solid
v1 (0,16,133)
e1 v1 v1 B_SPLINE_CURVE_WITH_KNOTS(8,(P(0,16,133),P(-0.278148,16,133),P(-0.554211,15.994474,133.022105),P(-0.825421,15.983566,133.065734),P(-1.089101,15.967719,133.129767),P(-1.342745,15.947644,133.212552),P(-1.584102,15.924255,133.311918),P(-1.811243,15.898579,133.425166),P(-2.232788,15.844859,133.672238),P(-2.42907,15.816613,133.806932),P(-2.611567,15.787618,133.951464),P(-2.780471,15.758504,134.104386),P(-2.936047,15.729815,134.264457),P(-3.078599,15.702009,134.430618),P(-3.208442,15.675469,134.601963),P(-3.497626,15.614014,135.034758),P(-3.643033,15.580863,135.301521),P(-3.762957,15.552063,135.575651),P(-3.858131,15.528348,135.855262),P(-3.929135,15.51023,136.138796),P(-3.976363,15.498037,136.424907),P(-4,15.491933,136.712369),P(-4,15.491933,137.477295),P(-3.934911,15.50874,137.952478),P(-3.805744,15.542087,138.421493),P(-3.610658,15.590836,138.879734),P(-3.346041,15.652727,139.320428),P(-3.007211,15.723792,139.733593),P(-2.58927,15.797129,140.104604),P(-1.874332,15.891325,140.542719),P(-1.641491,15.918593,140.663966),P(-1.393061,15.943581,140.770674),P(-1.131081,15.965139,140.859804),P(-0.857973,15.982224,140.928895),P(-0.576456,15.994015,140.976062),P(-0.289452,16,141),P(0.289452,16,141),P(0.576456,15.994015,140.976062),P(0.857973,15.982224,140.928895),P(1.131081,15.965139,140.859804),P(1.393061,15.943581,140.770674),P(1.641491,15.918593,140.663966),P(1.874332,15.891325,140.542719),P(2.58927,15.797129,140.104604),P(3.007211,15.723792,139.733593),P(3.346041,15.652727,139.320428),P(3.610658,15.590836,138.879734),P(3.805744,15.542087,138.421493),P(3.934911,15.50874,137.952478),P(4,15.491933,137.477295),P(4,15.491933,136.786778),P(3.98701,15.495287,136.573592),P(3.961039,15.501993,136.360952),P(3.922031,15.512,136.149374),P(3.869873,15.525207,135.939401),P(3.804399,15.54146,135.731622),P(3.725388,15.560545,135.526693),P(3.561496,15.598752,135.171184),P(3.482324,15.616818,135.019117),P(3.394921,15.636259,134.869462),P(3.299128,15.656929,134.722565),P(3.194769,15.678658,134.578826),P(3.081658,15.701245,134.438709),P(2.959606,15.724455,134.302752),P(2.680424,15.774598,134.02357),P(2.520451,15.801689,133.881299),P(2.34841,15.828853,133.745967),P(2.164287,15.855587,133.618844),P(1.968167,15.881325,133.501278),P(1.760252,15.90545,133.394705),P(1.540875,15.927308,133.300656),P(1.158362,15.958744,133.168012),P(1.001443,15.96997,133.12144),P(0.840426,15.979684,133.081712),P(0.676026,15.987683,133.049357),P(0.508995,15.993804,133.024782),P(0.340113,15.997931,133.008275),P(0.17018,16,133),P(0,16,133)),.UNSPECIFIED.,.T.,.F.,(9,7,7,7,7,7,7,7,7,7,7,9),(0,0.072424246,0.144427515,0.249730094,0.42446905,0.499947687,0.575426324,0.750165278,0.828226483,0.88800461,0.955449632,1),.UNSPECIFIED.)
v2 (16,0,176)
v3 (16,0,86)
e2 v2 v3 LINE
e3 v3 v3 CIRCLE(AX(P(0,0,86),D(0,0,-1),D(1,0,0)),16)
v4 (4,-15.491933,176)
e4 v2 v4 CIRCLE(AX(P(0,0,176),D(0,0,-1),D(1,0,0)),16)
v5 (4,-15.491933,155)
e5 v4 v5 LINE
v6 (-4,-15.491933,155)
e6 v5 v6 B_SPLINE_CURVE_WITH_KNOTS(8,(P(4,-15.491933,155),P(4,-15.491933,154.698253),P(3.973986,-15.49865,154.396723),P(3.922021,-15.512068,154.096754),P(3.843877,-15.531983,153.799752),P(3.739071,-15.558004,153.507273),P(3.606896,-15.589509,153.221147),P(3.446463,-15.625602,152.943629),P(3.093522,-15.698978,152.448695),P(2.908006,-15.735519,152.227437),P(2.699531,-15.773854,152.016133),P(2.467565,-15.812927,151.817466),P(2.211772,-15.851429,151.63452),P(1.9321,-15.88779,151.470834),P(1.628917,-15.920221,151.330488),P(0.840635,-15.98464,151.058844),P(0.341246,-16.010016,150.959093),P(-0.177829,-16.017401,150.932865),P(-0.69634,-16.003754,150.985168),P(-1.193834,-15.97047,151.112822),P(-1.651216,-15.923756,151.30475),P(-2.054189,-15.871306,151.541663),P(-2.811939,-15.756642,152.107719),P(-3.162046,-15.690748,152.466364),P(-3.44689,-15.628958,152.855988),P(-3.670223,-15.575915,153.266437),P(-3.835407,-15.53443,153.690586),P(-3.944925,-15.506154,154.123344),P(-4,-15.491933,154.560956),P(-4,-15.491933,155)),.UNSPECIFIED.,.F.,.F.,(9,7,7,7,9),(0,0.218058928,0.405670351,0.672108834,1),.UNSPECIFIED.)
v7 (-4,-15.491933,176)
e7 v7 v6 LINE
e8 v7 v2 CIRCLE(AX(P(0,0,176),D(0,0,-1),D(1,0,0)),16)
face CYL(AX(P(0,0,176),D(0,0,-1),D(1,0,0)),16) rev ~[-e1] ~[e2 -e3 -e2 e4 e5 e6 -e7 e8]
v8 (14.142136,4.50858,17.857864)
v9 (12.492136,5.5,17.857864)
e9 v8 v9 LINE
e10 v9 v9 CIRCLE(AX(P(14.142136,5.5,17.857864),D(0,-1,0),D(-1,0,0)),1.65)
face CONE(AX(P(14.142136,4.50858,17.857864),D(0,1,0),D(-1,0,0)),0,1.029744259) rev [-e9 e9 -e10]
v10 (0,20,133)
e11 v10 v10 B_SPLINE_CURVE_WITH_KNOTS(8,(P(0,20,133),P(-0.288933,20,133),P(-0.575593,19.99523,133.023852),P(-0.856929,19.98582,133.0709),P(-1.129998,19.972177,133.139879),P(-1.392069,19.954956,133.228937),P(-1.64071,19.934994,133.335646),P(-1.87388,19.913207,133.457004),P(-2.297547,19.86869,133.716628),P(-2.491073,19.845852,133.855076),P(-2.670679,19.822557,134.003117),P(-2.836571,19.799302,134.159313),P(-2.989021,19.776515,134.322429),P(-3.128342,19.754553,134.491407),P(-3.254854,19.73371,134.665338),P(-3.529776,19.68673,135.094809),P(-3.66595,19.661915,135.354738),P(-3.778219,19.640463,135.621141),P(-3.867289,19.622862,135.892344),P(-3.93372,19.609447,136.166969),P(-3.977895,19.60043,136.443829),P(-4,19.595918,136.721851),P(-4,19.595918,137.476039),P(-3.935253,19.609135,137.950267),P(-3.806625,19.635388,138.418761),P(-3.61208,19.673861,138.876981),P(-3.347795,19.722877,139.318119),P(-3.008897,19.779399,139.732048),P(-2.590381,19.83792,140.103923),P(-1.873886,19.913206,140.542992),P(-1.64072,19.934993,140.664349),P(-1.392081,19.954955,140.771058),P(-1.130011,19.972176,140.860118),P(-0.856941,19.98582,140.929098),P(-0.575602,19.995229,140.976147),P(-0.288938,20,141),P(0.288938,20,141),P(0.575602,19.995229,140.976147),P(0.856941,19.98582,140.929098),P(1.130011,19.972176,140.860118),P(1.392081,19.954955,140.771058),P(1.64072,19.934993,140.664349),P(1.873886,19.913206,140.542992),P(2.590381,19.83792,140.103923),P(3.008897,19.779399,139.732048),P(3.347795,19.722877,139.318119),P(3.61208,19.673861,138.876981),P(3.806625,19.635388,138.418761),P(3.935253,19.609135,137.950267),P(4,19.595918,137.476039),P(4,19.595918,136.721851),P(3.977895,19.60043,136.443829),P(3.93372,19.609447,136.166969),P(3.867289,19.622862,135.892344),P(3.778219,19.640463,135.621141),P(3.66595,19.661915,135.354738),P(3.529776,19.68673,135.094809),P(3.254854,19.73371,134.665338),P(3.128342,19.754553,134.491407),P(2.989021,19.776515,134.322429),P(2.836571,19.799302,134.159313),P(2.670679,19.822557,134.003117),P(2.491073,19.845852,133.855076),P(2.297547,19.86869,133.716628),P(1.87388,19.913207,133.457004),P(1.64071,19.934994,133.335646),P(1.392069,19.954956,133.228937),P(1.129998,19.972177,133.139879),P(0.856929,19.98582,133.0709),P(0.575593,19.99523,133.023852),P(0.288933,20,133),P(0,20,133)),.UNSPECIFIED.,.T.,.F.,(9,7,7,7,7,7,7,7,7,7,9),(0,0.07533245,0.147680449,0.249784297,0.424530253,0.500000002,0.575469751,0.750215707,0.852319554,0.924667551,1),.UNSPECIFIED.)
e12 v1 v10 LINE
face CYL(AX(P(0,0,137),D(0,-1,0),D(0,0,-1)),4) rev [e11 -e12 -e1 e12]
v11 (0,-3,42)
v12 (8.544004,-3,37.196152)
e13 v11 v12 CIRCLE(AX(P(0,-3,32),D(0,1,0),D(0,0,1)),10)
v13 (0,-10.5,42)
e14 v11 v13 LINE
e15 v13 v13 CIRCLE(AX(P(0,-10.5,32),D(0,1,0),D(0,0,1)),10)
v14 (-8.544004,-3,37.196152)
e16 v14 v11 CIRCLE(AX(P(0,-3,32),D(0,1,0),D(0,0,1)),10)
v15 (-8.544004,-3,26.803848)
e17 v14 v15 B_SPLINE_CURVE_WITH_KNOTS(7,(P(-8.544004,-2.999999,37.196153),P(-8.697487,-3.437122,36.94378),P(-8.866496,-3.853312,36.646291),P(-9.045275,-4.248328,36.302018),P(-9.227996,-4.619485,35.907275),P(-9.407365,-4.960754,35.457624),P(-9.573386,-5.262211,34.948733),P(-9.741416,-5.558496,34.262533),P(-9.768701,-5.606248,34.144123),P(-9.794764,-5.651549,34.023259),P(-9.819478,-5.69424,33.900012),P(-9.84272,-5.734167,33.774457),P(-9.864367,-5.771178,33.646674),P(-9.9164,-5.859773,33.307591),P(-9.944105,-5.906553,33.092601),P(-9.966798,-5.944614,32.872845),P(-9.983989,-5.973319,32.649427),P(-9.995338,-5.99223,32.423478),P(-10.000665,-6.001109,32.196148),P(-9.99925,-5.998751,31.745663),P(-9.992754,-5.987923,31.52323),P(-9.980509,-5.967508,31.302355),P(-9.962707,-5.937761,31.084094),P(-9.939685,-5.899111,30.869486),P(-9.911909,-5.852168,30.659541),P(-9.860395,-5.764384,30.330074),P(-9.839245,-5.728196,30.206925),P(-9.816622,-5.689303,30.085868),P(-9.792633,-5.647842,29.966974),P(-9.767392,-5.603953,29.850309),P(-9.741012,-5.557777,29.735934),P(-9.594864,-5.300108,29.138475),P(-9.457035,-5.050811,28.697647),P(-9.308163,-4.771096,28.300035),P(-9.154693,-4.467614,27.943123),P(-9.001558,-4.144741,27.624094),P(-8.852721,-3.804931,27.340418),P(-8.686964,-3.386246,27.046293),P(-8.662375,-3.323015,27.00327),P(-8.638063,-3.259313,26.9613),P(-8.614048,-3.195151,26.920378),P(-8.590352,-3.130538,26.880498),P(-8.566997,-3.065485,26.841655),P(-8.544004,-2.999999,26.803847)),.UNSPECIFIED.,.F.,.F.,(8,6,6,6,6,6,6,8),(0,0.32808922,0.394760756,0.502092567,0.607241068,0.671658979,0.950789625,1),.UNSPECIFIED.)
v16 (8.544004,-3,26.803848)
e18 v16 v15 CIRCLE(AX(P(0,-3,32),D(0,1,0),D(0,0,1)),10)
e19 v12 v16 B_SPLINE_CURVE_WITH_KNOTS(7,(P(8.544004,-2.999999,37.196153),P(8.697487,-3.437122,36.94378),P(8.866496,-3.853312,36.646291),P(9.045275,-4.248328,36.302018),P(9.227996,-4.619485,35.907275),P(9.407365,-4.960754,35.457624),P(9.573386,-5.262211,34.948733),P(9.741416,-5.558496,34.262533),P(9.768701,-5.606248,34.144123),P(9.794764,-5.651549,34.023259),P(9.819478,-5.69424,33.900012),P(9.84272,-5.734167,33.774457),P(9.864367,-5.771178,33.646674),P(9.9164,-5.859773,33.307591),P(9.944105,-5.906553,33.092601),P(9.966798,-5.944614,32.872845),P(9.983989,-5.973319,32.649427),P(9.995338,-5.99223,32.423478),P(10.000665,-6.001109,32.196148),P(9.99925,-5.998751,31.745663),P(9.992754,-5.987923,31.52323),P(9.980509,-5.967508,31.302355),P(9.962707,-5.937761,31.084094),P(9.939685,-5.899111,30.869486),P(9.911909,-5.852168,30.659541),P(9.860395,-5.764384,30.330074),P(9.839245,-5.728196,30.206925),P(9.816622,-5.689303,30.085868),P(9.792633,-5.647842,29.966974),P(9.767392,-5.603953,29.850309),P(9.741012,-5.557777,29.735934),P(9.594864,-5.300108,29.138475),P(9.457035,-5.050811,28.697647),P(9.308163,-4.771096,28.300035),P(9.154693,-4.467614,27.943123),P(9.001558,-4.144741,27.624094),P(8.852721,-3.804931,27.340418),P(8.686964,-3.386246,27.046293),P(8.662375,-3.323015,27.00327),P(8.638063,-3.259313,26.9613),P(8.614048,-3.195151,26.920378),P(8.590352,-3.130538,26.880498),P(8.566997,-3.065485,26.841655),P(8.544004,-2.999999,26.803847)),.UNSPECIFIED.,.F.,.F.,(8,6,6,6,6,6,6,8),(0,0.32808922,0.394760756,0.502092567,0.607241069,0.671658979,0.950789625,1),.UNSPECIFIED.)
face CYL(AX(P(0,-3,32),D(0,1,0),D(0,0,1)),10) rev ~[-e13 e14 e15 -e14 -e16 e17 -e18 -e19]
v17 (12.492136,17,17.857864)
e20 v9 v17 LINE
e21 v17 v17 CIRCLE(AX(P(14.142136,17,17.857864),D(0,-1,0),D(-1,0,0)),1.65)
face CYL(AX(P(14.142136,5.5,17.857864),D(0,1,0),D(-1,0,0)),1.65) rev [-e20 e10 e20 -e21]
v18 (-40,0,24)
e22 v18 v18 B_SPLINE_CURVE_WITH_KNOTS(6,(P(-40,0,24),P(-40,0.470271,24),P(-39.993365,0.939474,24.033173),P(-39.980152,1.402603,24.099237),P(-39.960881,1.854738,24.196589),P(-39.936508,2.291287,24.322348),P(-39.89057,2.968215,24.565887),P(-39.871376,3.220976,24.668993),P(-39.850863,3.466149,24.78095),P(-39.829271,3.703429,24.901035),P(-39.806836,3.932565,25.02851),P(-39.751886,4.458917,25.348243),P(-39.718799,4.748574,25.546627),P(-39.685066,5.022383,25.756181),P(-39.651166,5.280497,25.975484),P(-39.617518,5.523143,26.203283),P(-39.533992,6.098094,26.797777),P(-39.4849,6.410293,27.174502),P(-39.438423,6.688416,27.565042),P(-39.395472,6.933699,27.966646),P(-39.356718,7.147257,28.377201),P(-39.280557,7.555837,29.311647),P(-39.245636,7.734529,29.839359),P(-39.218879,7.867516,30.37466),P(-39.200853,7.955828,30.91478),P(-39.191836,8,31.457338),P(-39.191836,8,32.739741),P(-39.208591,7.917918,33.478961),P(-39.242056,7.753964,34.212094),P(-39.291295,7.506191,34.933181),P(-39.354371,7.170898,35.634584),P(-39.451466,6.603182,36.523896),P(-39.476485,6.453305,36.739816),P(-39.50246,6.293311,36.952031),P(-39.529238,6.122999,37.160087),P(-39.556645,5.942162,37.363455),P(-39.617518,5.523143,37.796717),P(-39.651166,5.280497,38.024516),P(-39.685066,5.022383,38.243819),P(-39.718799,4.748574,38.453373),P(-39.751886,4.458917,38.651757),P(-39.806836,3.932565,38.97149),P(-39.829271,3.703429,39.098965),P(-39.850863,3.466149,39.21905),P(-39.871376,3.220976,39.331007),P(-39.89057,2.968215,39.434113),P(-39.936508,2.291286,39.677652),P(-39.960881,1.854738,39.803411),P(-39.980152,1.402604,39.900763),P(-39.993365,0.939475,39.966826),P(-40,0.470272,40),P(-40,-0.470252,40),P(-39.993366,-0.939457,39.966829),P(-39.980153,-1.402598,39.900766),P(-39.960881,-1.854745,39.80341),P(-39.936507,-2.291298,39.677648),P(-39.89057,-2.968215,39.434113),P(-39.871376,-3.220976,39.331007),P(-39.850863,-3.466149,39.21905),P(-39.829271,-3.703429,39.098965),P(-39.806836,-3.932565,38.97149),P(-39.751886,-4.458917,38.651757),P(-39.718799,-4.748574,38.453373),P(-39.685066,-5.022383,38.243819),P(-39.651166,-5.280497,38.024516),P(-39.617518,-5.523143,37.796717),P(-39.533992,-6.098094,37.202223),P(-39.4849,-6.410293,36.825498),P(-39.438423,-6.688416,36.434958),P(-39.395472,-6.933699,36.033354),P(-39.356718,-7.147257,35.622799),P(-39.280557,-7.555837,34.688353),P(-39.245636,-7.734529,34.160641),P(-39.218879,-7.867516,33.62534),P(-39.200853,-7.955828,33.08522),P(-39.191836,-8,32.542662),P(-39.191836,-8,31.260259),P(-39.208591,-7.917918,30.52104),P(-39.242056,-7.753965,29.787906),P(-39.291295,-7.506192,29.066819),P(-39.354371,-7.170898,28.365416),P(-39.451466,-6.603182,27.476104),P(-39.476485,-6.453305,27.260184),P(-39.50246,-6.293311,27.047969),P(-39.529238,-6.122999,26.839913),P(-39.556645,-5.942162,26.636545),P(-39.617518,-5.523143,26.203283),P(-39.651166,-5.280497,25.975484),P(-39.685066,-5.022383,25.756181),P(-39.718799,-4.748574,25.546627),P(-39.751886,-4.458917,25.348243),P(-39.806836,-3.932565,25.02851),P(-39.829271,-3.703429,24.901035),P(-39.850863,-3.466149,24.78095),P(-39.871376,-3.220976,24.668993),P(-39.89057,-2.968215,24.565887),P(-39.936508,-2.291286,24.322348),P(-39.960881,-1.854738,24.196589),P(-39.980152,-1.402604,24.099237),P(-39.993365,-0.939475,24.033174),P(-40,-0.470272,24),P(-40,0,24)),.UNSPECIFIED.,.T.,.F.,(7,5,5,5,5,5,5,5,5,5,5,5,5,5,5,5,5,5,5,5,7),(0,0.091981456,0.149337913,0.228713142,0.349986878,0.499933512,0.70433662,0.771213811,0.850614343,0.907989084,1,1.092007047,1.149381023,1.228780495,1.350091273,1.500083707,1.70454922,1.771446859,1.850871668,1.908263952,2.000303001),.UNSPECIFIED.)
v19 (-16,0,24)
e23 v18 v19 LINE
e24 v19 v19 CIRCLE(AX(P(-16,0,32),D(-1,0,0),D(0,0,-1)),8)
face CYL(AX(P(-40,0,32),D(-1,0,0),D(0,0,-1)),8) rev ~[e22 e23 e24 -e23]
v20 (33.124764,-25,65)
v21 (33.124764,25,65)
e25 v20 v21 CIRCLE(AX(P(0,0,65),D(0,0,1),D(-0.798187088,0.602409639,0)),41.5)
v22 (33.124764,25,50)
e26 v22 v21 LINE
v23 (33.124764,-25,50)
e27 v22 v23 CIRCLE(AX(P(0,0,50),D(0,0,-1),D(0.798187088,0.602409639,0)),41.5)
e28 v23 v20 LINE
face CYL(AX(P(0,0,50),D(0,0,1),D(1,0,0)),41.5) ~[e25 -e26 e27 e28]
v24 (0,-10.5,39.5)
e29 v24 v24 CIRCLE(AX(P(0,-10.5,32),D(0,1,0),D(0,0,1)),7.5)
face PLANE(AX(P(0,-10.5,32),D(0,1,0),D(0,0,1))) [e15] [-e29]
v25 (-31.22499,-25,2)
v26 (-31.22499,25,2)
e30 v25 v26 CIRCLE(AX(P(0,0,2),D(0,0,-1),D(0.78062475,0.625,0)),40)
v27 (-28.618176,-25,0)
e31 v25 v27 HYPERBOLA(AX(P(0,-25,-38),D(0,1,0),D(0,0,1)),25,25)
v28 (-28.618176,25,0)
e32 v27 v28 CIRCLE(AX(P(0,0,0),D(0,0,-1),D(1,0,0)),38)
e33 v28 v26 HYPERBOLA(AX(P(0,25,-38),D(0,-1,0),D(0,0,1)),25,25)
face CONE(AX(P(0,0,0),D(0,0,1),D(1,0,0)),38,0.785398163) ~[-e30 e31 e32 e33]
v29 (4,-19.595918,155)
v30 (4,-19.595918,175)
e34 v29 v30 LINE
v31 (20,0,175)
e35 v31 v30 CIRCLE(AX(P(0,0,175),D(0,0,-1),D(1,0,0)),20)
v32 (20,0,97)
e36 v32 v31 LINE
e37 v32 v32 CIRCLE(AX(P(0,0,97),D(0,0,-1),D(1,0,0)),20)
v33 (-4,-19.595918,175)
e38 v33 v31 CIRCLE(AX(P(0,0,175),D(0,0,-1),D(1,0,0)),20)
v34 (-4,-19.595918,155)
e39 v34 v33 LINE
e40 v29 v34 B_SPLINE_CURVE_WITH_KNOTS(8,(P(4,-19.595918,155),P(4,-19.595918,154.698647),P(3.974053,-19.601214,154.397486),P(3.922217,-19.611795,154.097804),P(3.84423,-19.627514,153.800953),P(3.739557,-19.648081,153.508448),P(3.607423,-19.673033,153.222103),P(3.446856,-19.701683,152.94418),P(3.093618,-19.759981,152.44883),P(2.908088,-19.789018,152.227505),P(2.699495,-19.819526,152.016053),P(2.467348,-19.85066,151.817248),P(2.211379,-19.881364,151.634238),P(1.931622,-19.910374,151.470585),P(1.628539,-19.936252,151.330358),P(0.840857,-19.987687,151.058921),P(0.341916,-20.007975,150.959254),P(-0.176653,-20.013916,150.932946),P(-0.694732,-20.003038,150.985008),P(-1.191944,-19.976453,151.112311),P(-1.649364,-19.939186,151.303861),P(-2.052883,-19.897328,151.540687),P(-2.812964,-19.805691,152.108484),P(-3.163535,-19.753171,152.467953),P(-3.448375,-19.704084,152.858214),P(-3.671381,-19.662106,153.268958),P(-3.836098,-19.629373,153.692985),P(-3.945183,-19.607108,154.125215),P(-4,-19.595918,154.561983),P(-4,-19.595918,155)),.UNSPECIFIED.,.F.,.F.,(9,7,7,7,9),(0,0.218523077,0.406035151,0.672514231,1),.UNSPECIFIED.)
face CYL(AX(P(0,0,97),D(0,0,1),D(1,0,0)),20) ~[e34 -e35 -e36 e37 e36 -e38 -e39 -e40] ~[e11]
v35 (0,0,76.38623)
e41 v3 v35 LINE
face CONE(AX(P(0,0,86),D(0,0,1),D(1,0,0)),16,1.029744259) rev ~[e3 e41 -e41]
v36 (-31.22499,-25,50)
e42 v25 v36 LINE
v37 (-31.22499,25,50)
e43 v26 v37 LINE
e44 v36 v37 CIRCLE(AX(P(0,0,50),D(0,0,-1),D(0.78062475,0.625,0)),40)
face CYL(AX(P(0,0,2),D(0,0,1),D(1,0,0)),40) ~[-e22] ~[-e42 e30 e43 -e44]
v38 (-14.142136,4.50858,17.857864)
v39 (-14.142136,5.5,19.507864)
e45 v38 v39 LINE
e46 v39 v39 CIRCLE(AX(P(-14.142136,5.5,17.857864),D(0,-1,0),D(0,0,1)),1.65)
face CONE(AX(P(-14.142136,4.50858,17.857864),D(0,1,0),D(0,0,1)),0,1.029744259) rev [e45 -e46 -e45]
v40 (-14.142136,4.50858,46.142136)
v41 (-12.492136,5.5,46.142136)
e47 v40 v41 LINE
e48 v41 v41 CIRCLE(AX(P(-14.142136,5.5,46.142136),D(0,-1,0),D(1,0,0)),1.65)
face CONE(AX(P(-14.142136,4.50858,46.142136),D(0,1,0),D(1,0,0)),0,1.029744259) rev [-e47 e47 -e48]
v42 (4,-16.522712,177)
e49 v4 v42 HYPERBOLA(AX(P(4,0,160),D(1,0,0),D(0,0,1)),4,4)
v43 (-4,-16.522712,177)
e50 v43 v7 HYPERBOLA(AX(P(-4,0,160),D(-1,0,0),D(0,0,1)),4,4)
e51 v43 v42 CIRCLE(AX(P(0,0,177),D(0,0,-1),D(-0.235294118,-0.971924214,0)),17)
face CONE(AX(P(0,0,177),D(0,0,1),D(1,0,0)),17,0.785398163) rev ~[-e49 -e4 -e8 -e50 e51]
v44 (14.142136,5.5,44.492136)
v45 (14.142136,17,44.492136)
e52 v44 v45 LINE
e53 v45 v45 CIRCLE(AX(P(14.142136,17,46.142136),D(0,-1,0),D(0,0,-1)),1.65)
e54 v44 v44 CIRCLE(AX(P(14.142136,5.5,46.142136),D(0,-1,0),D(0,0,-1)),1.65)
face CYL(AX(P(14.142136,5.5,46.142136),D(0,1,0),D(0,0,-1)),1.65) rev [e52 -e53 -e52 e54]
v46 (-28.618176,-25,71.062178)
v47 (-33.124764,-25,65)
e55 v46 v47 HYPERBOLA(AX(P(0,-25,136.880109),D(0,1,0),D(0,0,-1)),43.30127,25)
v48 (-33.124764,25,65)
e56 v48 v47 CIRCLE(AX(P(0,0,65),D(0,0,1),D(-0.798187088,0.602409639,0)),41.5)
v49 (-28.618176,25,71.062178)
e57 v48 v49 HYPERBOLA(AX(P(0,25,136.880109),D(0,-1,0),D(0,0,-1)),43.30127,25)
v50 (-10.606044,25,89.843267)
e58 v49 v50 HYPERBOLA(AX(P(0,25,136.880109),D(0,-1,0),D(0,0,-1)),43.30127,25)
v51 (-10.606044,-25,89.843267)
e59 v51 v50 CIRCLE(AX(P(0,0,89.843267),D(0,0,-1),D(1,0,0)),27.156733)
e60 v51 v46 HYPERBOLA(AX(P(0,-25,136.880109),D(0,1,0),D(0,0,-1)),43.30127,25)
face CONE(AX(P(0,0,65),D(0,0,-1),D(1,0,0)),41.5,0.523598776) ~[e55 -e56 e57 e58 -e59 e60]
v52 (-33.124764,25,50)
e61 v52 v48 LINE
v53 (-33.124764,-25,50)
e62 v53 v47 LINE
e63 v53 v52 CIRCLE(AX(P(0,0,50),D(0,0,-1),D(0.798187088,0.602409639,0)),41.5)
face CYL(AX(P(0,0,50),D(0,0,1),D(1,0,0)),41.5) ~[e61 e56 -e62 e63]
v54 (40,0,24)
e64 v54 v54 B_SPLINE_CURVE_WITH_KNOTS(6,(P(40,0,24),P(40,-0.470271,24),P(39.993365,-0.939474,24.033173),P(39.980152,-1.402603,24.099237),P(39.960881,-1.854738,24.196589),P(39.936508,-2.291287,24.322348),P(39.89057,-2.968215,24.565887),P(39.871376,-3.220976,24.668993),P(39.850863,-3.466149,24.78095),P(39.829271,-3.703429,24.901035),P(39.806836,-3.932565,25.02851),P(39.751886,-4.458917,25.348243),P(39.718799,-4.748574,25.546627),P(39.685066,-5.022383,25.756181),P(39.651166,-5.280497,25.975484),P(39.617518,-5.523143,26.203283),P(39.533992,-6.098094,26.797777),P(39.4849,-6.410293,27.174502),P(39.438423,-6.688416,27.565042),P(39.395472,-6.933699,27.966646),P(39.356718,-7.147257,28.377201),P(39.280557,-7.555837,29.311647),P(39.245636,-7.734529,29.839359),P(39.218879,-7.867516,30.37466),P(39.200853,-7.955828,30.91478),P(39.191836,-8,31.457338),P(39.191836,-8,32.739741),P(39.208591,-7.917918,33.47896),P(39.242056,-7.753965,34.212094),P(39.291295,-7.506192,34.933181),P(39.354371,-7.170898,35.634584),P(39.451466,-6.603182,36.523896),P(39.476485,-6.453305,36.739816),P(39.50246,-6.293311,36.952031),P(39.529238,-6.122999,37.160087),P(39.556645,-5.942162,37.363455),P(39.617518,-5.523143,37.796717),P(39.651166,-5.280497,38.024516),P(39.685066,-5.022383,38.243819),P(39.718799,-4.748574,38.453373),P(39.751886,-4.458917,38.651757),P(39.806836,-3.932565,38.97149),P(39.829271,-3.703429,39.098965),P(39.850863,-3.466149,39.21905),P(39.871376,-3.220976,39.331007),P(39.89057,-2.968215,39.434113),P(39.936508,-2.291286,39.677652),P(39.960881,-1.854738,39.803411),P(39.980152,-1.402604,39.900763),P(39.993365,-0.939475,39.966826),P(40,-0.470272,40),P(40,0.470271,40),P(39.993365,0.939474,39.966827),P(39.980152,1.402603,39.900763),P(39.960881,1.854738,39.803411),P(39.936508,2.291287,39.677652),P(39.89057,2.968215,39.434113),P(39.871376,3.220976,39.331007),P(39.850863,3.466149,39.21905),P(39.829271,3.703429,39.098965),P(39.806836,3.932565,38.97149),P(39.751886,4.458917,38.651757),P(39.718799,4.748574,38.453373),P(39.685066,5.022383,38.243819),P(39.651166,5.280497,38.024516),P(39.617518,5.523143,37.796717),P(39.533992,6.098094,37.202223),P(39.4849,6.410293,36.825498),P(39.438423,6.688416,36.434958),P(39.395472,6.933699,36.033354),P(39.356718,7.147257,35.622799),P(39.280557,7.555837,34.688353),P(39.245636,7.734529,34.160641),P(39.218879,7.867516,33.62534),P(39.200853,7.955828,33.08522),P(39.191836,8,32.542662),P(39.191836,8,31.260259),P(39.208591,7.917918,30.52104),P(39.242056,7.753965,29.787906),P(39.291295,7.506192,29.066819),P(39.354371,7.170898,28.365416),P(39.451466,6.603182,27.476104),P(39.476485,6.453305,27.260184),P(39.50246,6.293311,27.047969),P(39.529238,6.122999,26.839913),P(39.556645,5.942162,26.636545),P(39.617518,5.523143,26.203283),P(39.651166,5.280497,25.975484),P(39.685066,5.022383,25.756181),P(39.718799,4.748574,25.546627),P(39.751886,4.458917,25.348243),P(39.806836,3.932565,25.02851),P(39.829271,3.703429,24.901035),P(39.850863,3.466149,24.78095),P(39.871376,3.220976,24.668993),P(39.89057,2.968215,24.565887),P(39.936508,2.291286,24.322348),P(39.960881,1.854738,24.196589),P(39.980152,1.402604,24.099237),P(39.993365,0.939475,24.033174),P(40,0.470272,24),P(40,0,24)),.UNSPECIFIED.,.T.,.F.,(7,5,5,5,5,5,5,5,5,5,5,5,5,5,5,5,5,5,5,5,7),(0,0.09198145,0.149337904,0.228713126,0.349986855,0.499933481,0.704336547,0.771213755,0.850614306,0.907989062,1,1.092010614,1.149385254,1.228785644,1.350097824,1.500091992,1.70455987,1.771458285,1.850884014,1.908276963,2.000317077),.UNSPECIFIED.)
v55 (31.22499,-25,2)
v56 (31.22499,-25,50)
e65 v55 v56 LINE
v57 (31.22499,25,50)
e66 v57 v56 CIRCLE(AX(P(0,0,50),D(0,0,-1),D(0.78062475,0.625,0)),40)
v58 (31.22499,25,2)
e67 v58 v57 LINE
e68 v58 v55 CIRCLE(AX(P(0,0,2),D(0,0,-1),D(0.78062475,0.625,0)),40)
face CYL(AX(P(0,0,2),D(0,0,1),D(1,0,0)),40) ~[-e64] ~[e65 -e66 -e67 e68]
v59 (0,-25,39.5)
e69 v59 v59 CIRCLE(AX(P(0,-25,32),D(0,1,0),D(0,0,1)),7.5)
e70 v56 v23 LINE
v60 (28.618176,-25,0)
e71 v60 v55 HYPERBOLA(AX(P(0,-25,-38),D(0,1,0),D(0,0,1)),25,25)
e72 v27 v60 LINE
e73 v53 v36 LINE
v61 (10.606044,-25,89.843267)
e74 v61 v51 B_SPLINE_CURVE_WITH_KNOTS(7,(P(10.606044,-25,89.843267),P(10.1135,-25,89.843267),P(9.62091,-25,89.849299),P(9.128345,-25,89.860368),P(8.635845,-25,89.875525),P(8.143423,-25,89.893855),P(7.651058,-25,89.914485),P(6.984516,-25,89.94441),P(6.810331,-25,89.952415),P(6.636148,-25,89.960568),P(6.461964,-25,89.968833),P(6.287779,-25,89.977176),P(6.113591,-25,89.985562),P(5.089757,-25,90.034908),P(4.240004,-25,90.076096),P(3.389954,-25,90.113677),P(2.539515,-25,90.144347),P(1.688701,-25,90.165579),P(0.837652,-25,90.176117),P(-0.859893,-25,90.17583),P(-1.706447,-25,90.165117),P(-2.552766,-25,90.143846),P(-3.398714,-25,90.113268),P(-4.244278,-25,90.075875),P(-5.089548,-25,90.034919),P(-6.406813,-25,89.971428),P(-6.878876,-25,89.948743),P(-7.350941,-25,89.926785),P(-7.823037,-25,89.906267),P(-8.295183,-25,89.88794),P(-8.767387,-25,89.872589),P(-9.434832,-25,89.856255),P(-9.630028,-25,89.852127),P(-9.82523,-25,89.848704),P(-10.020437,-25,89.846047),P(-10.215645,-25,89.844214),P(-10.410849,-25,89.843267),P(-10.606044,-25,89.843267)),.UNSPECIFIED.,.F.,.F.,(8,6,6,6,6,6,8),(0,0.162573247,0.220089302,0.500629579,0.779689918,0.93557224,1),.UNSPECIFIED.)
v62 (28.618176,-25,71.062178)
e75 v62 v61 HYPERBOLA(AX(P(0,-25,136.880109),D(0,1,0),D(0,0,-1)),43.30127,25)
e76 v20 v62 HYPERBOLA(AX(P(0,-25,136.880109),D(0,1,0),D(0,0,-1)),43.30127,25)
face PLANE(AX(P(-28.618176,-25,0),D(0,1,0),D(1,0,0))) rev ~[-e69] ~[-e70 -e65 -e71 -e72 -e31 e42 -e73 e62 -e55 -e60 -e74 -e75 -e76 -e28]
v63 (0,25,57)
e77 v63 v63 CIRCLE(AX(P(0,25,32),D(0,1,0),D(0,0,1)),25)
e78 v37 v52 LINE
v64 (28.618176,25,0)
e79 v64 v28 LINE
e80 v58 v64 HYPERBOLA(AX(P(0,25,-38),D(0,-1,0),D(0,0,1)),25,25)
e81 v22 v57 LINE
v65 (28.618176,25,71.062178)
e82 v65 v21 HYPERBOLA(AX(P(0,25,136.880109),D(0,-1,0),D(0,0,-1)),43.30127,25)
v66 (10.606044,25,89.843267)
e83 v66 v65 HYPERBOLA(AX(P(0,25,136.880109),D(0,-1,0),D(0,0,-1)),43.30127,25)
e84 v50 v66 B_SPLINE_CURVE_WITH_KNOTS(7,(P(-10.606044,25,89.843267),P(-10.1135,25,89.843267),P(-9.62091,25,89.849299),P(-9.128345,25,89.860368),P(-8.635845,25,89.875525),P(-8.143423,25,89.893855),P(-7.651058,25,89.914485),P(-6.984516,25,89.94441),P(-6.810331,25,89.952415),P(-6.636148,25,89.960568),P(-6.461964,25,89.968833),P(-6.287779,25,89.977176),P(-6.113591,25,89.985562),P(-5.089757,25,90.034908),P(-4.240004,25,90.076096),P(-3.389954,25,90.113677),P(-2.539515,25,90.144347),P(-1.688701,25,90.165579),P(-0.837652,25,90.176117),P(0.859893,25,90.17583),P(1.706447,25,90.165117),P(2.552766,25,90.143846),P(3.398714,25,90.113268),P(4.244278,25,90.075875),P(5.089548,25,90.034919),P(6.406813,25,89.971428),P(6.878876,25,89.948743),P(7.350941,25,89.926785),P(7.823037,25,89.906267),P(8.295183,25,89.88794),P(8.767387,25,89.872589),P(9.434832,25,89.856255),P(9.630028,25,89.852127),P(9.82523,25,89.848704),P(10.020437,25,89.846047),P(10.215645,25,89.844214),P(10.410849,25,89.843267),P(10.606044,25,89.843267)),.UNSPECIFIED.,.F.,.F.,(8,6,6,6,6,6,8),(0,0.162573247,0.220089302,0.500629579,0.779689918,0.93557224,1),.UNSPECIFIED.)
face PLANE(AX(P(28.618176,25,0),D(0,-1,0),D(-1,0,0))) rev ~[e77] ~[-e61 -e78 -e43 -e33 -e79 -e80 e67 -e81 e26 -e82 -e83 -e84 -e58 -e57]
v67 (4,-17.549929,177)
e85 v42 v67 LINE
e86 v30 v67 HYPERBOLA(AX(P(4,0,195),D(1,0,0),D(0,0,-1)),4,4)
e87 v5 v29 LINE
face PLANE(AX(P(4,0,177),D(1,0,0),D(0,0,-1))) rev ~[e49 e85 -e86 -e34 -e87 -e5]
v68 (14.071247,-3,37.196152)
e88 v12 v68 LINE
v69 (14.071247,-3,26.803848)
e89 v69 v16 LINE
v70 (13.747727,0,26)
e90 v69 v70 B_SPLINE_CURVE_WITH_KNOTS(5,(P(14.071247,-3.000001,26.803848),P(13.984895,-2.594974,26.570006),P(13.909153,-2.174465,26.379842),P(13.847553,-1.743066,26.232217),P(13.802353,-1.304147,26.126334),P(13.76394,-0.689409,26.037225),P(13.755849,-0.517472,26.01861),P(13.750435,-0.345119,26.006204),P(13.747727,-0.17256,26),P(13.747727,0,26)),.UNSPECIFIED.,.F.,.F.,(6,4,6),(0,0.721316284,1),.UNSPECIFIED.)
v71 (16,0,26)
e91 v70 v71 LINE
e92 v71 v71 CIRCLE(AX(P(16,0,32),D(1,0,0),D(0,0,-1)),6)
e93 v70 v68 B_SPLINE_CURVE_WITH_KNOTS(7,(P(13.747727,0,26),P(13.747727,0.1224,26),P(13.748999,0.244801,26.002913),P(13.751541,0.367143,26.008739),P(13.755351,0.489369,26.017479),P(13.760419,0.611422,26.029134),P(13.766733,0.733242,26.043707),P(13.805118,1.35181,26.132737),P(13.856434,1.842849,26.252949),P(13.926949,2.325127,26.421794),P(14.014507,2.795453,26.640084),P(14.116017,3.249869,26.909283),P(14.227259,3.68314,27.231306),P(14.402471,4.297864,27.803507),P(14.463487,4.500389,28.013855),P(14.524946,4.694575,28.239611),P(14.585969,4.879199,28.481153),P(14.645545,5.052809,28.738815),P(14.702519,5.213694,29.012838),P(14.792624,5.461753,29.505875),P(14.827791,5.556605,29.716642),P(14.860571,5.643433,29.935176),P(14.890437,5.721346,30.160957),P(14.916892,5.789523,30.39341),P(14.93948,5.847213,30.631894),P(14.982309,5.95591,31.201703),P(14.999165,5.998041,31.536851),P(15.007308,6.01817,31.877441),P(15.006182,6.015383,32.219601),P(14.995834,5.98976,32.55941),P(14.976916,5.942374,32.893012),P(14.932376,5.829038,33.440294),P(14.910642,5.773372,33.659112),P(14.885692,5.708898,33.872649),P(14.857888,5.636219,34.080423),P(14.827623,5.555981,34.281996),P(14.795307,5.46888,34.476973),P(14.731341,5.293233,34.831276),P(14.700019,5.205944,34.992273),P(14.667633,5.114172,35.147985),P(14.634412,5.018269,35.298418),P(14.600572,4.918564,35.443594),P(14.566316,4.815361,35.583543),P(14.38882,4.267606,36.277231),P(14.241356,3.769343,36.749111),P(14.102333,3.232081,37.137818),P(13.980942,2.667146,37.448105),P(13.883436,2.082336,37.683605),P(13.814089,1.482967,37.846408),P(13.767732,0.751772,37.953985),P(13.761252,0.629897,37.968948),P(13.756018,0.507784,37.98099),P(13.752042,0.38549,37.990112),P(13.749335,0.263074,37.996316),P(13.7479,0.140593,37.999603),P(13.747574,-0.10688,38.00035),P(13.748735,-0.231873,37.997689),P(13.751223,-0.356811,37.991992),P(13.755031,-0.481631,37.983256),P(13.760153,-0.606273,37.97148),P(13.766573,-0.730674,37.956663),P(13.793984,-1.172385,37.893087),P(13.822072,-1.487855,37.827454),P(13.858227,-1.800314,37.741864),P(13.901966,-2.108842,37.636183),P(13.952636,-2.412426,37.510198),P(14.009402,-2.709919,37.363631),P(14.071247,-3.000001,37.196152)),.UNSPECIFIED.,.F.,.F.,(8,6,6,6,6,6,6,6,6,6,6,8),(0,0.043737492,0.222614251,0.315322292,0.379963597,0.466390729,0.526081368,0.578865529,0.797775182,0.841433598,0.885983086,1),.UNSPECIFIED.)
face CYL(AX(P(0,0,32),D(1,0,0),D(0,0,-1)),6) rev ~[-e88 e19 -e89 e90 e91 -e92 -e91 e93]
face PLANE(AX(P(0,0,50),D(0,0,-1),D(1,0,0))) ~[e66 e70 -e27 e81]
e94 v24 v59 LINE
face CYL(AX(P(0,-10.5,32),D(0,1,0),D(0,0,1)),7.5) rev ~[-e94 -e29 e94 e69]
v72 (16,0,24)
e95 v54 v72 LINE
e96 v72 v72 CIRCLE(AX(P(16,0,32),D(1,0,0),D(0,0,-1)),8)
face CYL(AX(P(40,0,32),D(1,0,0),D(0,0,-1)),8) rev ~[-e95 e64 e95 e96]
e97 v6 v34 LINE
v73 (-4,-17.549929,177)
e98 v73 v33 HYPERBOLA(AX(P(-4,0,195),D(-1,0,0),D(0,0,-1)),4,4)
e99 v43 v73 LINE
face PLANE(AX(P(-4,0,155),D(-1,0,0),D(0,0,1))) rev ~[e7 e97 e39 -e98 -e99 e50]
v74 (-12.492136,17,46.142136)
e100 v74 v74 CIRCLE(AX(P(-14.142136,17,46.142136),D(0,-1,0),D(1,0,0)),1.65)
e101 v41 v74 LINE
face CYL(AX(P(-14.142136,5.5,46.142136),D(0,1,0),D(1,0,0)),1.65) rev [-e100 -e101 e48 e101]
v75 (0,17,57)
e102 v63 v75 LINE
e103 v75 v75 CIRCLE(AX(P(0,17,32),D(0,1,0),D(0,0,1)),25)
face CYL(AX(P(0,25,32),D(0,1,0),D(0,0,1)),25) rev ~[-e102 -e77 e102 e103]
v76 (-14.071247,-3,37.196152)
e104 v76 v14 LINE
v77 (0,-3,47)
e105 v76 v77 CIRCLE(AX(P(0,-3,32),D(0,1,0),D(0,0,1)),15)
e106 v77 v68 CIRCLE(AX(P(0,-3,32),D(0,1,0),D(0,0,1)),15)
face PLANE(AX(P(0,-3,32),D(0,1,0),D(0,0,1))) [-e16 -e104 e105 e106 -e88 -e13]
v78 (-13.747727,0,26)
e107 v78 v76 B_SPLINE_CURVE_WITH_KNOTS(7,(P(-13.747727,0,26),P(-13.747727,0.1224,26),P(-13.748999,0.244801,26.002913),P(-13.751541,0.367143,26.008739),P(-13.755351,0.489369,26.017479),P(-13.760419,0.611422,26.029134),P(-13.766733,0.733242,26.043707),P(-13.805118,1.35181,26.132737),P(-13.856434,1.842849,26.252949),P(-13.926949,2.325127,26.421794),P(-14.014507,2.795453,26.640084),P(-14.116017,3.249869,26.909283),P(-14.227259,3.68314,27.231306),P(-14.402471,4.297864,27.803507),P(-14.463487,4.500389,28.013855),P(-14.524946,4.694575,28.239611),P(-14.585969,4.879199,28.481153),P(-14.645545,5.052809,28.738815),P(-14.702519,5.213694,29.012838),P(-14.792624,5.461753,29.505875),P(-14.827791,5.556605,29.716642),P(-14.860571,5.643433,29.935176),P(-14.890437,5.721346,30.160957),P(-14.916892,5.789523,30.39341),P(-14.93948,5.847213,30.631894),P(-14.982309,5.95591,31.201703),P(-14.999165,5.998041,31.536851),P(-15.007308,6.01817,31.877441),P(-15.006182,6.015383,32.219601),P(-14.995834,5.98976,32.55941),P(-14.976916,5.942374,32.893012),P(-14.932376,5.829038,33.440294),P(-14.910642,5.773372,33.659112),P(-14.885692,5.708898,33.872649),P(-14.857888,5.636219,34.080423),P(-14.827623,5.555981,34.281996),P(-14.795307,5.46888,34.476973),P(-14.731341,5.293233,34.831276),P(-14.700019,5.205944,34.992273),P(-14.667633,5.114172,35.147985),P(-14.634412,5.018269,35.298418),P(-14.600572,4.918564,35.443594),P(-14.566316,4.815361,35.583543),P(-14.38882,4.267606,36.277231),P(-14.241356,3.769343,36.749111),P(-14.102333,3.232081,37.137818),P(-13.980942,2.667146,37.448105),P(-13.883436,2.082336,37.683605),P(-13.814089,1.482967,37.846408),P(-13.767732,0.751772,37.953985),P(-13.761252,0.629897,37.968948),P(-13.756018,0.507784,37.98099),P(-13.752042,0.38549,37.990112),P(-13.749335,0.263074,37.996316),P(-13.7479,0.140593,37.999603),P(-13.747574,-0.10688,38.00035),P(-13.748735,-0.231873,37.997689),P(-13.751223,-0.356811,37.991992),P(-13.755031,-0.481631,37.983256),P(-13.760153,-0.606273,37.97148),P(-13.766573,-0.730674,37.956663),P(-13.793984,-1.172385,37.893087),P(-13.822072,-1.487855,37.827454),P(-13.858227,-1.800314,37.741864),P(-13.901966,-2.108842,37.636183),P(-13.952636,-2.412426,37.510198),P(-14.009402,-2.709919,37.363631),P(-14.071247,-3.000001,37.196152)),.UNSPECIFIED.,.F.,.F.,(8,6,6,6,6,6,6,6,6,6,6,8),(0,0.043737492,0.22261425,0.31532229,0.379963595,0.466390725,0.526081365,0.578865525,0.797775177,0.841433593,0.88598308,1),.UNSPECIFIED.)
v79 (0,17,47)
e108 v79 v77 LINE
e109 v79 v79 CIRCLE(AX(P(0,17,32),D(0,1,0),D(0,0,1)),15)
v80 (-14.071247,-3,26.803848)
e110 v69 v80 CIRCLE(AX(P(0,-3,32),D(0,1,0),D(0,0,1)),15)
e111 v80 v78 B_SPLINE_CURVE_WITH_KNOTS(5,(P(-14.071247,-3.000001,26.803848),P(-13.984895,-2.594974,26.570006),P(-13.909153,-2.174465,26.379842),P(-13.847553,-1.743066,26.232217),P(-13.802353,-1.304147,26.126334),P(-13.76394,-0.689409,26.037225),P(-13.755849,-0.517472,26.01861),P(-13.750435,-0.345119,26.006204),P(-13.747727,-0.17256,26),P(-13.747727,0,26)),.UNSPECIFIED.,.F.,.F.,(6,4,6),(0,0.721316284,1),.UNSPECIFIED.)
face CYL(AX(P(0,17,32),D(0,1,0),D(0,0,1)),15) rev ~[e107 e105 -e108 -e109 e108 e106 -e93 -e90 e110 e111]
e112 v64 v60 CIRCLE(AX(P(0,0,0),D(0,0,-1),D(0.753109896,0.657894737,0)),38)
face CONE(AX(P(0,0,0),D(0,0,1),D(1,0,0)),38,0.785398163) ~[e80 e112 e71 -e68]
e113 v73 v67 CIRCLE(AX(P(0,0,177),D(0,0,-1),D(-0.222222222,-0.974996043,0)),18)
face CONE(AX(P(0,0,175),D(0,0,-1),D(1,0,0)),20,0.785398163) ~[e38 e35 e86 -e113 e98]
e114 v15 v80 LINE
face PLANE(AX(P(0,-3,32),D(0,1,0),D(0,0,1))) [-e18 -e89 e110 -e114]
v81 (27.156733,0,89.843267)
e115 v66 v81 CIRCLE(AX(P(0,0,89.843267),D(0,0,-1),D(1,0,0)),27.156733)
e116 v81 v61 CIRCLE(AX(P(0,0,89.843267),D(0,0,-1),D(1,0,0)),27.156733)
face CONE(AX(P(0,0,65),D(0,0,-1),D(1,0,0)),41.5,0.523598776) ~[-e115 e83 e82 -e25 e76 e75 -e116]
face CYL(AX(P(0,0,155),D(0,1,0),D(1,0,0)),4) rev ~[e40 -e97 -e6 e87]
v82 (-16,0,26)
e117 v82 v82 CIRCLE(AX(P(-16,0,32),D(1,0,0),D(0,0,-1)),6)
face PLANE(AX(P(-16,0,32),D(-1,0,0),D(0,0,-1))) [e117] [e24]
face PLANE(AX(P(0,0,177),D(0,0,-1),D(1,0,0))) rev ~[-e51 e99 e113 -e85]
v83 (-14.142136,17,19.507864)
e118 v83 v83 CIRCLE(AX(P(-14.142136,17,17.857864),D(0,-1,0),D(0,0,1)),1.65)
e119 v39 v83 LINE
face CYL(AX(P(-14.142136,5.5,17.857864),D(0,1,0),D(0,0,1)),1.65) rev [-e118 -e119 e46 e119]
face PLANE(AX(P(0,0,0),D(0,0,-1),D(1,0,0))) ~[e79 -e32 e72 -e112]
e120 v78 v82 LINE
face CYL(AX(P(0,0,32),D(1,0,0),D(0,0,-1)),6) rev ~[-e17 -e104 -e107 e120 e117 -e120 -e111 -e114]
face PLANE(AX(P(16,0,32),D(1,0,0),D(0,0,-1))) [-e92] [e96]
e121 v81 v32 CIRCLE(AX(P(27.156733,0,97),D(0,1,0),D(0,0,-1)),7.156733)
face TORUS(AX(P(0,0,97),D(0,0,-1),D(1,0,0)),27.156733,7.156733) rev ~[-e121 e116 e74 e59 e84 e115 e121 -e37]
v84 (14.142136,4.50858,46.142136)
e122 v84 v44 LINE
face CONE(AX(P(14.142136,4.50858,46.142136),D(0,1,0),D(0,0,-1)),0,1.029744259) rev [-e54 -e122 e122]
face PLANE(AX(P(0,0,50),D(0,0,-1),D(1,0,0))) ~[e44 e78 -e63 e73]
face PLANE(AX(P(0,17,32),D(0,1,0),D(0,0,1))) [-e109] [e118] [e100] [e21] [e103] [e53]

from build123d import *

# Parameters (mm, degrees)
SCHNITT_LINEAR_AUSTRAGEN1_REACH      = 179
SKIZZE3_R                            = 6
SCHNITT_LINEAR_AUSTRAGEN2_DEPTH      = 42.5
SCHNITT_LINEAR_AUSTRAGEN2_DEPTH_BACK = 42.5
SKIZZE4_R                            = 25
SCHNITT_LINEAR_AUSTRAGEN3_DEPTH      = 8
SKIZZE5_R                            = 15
SCHNITT_LINEAR_AUSTRAGEN4_DEPTH      = 20
KREISMUSTER1_COUNT                   = 4
SKIZZE9_R                            = 10
SCHNITT_LINEAR_AUSTRAGEN5_DEPTH      = 7.5
SCHNITT_LINEAR_AUSTRAGEN6_REACH      = 16.5
SKIZZE10_R                           = 7.5
SCHNITT_LINEAR_AUSTRAGEN7_REACH      = 27
SCHNITT_LINEAR_AUSTRAGEN8_REACH      = 27
SCHNITT_LINEAR_AUSTRAGEN8_END_RADIUS = 20
SKIZZE13_R                           = 4
SKIZZE14_R                           = 8
SCHNITT_LINEAR_AUSTRAGEN9_DEPTH      = 24
SKIZZE15_R                           = 8
SCHNITT_LINEAR_AUSTRAGEN10_DEPTH     = 24


with BuildPart() as part:
    # Skizze1 → Rotation1 (revolve)
    with BuildSketch(Plane(origin=(0, 0, 0), x_dir=(0, 0, -1), z_dir=(1, 0, 0)), mode=Mode.PRIVATE) as rotation1_sk:
        with BuildLine():
            Line((0, 0), (0, -38))
            Line((0, -38), (-2, -40))
            Line((-2, -40), (-50, -40))
            Line((-50, -40), (-50, -41.5))
            Line((-50, -41.5), (-65, -41.5))
            Line((-65, -41.5), (-89.84326674, -27.15673326))
            ThreePointArc((-89.84326674, -27.15673326), (-91.939425381, -22.096158641), (-97, -20))
            Line((-97, -20), (-175, -20))
            Line((-175, -20), (-177, -18))
            Line((-177, -18), (-177, -17))
            Line((-177, -17), (-176, -16))
            Line((-176, -16), (-86, -16))
            Line((-86, -16), (-76.386230096, 0))
            Line((-76.386230096, 0), (0, 0))
        make_face()
    revolve(rotation1_sk.sketch.rotate(Axis((0, 0, 212.688910887), (0, 0, -1)), 270), axis=Axis((0, 0, 212.688910887), (0, 0, -1)))  # turned: the seam where the file's is

    # Skizze2 → Schnitt-Linear austragen1 (cut, up to next)
    with BuildSketch(Plane(origin=(0, 0, 0), x_dir=(-1, 0, 0), z_dir=(0, 0, -1)), mode=Mode.PRIVATE) as schnitt_linear_austragen1_sk1:
        with BuildLine():
            Line((28.618176043, -25), (-28.618176043, -25))
            ThreePointArc((-28.618176043, -25), (0, -38), (28.618176043, -25))
        make_face()
    schnitt_linear_austragen1_tool1 = extrude(schnitt_linear_austragen1_sk1.sketch, amount=-SCHNITT_LINEAR_AUSTRAGEN1_REACH, mode=Mode.PRIVATE) & part.part
    add(schnitt_linear_austragen1_tool1.solids().sort_by_distance((0, -30.28468, 0))[0], mode=Mode.SUBTRACT)
    # Skizze2 → Schnitt-Linear austragen1 (cut, up to next)
    with BuildSketch(Plane(origin=(0, 0, 0), x_dir=(-1, 0, 0), z_dir=(0, 0, -1)), mode=Mode.PRIVATE) as schnitt_linear_austragen1_sk2:
        with BuildLine():
            ThreePointArc((28.618176043, 25), (0, 38), (-28.618176043, 25))
            Line((-28.618176043, 25), (28.618176043, 25))
        make_face()
    schnitt_linear_austragen1_tool2 = extrude(schnitt_linear_austragen1_sk2.sketch, amount=-SCHNITT_LINEAR_AUSTRAGEN1_REACH, mode=Mode.PRIVATE) & part.part
    add(schnitt_linear_austragen1_tool2.solids().sort_by_distance((0, 30.28468, 0))[0], mode=Mode.SUBTRACT)
    # Skizze2 → Schnitt-Linear austragen1 (cut, up to next)
    with BuildSketch(Plane(origin=(0, 0, 0), x_dir=(-1, 0, 0), z_dir=(0, 0, -1)), mode=Mode.PRIVATE) as schnitt_linear_austragen1_sk3:
        with BuildLine():
            ThreePointArc((33.749074061, 25), (0, 42), (-33.749074061, 25))
            Line((-33.749074061, 25), (-28.618176043, 25))
            ThreePointArc((-28.618176043, 25), (0, 38), (28.618176043, 25))
            Line((28.618176043, 25), (33.749074061, 25))
        make_face()
    schnitt_linear_austragen1_tool3 = extrude(schnitt_linear_austragen1_sk3.sketch, amount=-SCHNITT_LINEAR_AUSTRAGEN1_REACH, mode=Mode.PRIVATE) & part.part
    add(schnitt_linear_austragen1_tool3.solids().sort_by_distance((0, 38.69606, 0))[0], mode=Mode.SUBTRACT)
    # Skizze2 → Schnitt-Linear austragen1 (cut, up to next)
    with BuildSketch(Plane(origin=(0, 0, 0), x_dir=(-1, 0, 0), z_dir=(0, 0, -1)), mode=Mode.PRIVATE) as schnitt_linear_austragen1_sk4:
        with BuildLine():
            Line((-28.618176043, -25), (-33.749074061, -25))
            ThreePointArc((-33.749074061, -25), (0, -42), (33.749074061, -25))
            Line((33.749074061, -25), (28.618176043, -25))
            ThreePointArc((28.618176043, -25), (0, -38), (-28.618176043, -25))
        make_face()
    schnitt_linear_austragen1_tool4 = extrude(schnitt_linear_austragen1_sk4.sketch, amount=-SCHNITT_LINEAR_AUSTRAGEN1_REACH, mode=Mode.PRIVATE) & part.part
    add(schnitt_linear_austragen1_tool4.solids().sort_by_distance((31.183625, -25.69606, 0))[0], mode=Mode.SUBTRACT)

    # Skizze3 → Schnitt-Linear austragen2 (cut, two sides)
    with BuildSketch(Plane(origin=(0, 0, 0), x_dir=(0, 0, -1), z_dir=(1, 0, 0))) as schnitt_linear_austragen2_sk:
        with Locations((-32, 0)):
            Circle(SKIZZE3_R)
    extrude(amount=SCHNITT_LINEAR_AUSTRAGEN2_DEPTH, mode=Mode.SUBTRACT)
    extrude(schnitt_linear_austragen2_sk.sketch, amount=-SCHNITT_LINEAR_AUSTRAGEN2_DEPTH_BACK, mode=Mode.SUBTRACT)

    # Skizze4 → Schnitt-Linear austragen3 (cut)
    with BuildSketch(Plane(origin=(0, 25, 0), x_dir=(1, 0, 0), z_dir=(0, 1, 0))):
        with Locations(Location((0, -32, 0), (0, 0, 270))):  # turned: the seam where the file's is
            Circle(SKIZZE4_R)
    extrude(amount=-SCHNITT_LINEAR_AUSTRAGEN3_DEPTH, mode=Mode.SUBTRACT)

    # Skizze5 → Schnitt-Linear austragen4 (cut)
    with BuildSketch(Plane(origin=(0, 17, 0), x_dir=(1, 0, 0), z_dir=(0, 1, 0))):
        with Locations(Location((0, -32, 0), (0, 0, 270))):  # turned: the seam where the file's is
            Circle(SKIZZE5_R)
    extrude(amount=-SCHNITT_LINEAR_AUSTRAGEN4_DEPTH, mode=Mode.SUBTRACT)

    # Skizze7 → M4 Gewindebohrung1 (revolve, cut)
    with BuildSketch(Plane(origin=(-14.142135624, 17, 17.857864376), x_dir=(0, 0, 1), z_dir=(1, 0, 0))):
        Polygon((0, 0), (0, 12.491420021), (1.65, 11.5), (1.65, 0), align=None)
    m4_gewindebohrung1 = revolve(axis=Axis((-14.142135624, 23.35, 17.857864376), (0, -1, 0)), mode=Mode.SUBTRACT)

    # Kreismuster1: M4 Gewindebohrung1 ×4 about axis
    kreismuster1_axis = Axis((0, 0, 32), (0, 1, 0))
    for i in range(1, KREISMUSTER1_COUNT):
        add(m4_gewindebohrung1.rotate(kreismuster1_axis, i * 360 / KREISMUSTER1_COUNT), mode=Mode.SUBTRACT)

    # Skizze9 → Schnitt-Linear austragen5 (cut)
    with BuildSketch(Plane(origin=(0, -3, 0), x_dir=(1, 0, 0), z_dir=(0, 1, 0))):
        with Locations(Location((0, -32, 0), (0, 0, 270))):  # turned: the seam where the file's is
            Circle(SKIZZE9_R)
    extrude(amount=-SCHNITT_LINEAR_AUSTRAGEN5_DEPTH, mode=Mode.SUBTRACT)

    # Skizze10 → Schnitt-Linear austragen6 (cut, up to next)
    with BuildSketch(Plane(origin=(0, -10.5, 0), x_dir=(1, 0, 0), z_dir=(0, 1, 0)), mode=Mode.PRIVATE) as schnitt_linear_austragen6_sk1:
        with Locations(Location((0, -32, 0), (0, 0, 270))):  # turned: the seam where the file's is
            Circle(SKIZZE10_R)
    schnitt_linear_austragen6_tool1 = extrude(schnitt_linear_austragen6_sk1.sketch, amount=-SCHNITT_LINEAR_AUSTRAGEN6_REACH, mode=Mode.PRIVATE) & part.part
    add(schnitt_linear_austragen6_tool1.solids().sort_by_distance((0, -10.5, 32))[0], mode=Mode.SUBTRACT)

    # Skizze12 → Schnitt-Linear austragen7 (cut, up to next)
    with BuildSketch(Plane(origin=(0, 0, 0), x_dir=(1, 0, 0), z_dir=(0, 1, 0)), mode=Mode.PRIVATE) as schnitt_linear_austragen7_sk1:
        with BuildLine():
            Line((-4, -155), (-4, -177))
            Line((-4, -177), (4, -177))
            Line((4, -177), (4, -155))
            ThreePointArc((4, -155), (0, -151), (-4, -155))
        make_face()
    schnitt_linear_austragen7_tool1 = extrude(schnitt_linear_austragen7_sk1.sketch, amount=-SCHNITT_LINEAR_AUSTRAGEN7_REACH, mode=Mode.PRIVATE) & part.part
    add(schnitt_linear_austragen7_tool1.solids().sort_by_distance((0, 0, 164.413352))[0], mode=Mode.SUBTRACT)

    # Schnitt-Linear austragen8: up to this cylinder (the profile starts inside it)
    schnitt_linear_austragen8_end = Plane(origin=(0, 0, 137), z_dir=(0, 0, 1)) * Cylinder(SCHNITT_LINEAR_AUSTRAGEN8_END_RADIUS, 95, mode=Mode.PRIVATE)
    # Skizze13 → Schnitt-Linear austragen8 (cut, up to the surface)
    with BuildSketch(Plane(origin=(0, 0, 0), x_dir=(1, 0, 0), z_dir=(0, 1, 0)), mode=Mode.PRIVATE) as schnitt_linear_austragen8_sk1:
        with Locations(Location((0, -137, 0), (0, 0, 90))):  # turned: the seam where the file's is
            Circle(SKIZZE13_R)
    schnitt_linear_austragen8_tool1 = extrude(schnitt_linear_austragen8_sk1.sketch, amount=SCHNITT_LINEAR_AUSTRAGEN8_REACH, mode=Mode.PRIVATE) & schnitt_linear_austragen8_end
    add(schnitt_linear_austragen8_tool1.solids().sort_by_distance((0, 0, 137))[0], mode=Mode.SUBTRACT)

    # Skizze14 → Schnitt-Linear austragen9 (cut)
    with BuildSketch(Plane(origin=(40, 0, 2), x_dir=(0, 0, -1), z_dir=(1, 0, 0))):
        with Locations((-30, 0)):
            Circle(SKIZZE14_R)
    extrude(amount=-SCHNITT_LINEAR_AUSTRAGEN9_DEPTH, mode=Mode.SUBTRACT)

    # Skizze15 → Schnitt-Linear austragen10 (cut)
    with BuildSketch(Plane(origin=(-40, 0, 2), x_dir=(0, 0, 1), z_dir=(-1, 0, 0))):
        with Locations(Location((30, 0, 0), (0, 0, 180))):  # turned: the seam where the file's is
            Circle(SKIZZE15_R)
    extrude(amount=-SCHNITT_LINEAR_AUSTRAGEN10_DEPTH, mode=Mode.SUBTRACT)


solid = part.part
